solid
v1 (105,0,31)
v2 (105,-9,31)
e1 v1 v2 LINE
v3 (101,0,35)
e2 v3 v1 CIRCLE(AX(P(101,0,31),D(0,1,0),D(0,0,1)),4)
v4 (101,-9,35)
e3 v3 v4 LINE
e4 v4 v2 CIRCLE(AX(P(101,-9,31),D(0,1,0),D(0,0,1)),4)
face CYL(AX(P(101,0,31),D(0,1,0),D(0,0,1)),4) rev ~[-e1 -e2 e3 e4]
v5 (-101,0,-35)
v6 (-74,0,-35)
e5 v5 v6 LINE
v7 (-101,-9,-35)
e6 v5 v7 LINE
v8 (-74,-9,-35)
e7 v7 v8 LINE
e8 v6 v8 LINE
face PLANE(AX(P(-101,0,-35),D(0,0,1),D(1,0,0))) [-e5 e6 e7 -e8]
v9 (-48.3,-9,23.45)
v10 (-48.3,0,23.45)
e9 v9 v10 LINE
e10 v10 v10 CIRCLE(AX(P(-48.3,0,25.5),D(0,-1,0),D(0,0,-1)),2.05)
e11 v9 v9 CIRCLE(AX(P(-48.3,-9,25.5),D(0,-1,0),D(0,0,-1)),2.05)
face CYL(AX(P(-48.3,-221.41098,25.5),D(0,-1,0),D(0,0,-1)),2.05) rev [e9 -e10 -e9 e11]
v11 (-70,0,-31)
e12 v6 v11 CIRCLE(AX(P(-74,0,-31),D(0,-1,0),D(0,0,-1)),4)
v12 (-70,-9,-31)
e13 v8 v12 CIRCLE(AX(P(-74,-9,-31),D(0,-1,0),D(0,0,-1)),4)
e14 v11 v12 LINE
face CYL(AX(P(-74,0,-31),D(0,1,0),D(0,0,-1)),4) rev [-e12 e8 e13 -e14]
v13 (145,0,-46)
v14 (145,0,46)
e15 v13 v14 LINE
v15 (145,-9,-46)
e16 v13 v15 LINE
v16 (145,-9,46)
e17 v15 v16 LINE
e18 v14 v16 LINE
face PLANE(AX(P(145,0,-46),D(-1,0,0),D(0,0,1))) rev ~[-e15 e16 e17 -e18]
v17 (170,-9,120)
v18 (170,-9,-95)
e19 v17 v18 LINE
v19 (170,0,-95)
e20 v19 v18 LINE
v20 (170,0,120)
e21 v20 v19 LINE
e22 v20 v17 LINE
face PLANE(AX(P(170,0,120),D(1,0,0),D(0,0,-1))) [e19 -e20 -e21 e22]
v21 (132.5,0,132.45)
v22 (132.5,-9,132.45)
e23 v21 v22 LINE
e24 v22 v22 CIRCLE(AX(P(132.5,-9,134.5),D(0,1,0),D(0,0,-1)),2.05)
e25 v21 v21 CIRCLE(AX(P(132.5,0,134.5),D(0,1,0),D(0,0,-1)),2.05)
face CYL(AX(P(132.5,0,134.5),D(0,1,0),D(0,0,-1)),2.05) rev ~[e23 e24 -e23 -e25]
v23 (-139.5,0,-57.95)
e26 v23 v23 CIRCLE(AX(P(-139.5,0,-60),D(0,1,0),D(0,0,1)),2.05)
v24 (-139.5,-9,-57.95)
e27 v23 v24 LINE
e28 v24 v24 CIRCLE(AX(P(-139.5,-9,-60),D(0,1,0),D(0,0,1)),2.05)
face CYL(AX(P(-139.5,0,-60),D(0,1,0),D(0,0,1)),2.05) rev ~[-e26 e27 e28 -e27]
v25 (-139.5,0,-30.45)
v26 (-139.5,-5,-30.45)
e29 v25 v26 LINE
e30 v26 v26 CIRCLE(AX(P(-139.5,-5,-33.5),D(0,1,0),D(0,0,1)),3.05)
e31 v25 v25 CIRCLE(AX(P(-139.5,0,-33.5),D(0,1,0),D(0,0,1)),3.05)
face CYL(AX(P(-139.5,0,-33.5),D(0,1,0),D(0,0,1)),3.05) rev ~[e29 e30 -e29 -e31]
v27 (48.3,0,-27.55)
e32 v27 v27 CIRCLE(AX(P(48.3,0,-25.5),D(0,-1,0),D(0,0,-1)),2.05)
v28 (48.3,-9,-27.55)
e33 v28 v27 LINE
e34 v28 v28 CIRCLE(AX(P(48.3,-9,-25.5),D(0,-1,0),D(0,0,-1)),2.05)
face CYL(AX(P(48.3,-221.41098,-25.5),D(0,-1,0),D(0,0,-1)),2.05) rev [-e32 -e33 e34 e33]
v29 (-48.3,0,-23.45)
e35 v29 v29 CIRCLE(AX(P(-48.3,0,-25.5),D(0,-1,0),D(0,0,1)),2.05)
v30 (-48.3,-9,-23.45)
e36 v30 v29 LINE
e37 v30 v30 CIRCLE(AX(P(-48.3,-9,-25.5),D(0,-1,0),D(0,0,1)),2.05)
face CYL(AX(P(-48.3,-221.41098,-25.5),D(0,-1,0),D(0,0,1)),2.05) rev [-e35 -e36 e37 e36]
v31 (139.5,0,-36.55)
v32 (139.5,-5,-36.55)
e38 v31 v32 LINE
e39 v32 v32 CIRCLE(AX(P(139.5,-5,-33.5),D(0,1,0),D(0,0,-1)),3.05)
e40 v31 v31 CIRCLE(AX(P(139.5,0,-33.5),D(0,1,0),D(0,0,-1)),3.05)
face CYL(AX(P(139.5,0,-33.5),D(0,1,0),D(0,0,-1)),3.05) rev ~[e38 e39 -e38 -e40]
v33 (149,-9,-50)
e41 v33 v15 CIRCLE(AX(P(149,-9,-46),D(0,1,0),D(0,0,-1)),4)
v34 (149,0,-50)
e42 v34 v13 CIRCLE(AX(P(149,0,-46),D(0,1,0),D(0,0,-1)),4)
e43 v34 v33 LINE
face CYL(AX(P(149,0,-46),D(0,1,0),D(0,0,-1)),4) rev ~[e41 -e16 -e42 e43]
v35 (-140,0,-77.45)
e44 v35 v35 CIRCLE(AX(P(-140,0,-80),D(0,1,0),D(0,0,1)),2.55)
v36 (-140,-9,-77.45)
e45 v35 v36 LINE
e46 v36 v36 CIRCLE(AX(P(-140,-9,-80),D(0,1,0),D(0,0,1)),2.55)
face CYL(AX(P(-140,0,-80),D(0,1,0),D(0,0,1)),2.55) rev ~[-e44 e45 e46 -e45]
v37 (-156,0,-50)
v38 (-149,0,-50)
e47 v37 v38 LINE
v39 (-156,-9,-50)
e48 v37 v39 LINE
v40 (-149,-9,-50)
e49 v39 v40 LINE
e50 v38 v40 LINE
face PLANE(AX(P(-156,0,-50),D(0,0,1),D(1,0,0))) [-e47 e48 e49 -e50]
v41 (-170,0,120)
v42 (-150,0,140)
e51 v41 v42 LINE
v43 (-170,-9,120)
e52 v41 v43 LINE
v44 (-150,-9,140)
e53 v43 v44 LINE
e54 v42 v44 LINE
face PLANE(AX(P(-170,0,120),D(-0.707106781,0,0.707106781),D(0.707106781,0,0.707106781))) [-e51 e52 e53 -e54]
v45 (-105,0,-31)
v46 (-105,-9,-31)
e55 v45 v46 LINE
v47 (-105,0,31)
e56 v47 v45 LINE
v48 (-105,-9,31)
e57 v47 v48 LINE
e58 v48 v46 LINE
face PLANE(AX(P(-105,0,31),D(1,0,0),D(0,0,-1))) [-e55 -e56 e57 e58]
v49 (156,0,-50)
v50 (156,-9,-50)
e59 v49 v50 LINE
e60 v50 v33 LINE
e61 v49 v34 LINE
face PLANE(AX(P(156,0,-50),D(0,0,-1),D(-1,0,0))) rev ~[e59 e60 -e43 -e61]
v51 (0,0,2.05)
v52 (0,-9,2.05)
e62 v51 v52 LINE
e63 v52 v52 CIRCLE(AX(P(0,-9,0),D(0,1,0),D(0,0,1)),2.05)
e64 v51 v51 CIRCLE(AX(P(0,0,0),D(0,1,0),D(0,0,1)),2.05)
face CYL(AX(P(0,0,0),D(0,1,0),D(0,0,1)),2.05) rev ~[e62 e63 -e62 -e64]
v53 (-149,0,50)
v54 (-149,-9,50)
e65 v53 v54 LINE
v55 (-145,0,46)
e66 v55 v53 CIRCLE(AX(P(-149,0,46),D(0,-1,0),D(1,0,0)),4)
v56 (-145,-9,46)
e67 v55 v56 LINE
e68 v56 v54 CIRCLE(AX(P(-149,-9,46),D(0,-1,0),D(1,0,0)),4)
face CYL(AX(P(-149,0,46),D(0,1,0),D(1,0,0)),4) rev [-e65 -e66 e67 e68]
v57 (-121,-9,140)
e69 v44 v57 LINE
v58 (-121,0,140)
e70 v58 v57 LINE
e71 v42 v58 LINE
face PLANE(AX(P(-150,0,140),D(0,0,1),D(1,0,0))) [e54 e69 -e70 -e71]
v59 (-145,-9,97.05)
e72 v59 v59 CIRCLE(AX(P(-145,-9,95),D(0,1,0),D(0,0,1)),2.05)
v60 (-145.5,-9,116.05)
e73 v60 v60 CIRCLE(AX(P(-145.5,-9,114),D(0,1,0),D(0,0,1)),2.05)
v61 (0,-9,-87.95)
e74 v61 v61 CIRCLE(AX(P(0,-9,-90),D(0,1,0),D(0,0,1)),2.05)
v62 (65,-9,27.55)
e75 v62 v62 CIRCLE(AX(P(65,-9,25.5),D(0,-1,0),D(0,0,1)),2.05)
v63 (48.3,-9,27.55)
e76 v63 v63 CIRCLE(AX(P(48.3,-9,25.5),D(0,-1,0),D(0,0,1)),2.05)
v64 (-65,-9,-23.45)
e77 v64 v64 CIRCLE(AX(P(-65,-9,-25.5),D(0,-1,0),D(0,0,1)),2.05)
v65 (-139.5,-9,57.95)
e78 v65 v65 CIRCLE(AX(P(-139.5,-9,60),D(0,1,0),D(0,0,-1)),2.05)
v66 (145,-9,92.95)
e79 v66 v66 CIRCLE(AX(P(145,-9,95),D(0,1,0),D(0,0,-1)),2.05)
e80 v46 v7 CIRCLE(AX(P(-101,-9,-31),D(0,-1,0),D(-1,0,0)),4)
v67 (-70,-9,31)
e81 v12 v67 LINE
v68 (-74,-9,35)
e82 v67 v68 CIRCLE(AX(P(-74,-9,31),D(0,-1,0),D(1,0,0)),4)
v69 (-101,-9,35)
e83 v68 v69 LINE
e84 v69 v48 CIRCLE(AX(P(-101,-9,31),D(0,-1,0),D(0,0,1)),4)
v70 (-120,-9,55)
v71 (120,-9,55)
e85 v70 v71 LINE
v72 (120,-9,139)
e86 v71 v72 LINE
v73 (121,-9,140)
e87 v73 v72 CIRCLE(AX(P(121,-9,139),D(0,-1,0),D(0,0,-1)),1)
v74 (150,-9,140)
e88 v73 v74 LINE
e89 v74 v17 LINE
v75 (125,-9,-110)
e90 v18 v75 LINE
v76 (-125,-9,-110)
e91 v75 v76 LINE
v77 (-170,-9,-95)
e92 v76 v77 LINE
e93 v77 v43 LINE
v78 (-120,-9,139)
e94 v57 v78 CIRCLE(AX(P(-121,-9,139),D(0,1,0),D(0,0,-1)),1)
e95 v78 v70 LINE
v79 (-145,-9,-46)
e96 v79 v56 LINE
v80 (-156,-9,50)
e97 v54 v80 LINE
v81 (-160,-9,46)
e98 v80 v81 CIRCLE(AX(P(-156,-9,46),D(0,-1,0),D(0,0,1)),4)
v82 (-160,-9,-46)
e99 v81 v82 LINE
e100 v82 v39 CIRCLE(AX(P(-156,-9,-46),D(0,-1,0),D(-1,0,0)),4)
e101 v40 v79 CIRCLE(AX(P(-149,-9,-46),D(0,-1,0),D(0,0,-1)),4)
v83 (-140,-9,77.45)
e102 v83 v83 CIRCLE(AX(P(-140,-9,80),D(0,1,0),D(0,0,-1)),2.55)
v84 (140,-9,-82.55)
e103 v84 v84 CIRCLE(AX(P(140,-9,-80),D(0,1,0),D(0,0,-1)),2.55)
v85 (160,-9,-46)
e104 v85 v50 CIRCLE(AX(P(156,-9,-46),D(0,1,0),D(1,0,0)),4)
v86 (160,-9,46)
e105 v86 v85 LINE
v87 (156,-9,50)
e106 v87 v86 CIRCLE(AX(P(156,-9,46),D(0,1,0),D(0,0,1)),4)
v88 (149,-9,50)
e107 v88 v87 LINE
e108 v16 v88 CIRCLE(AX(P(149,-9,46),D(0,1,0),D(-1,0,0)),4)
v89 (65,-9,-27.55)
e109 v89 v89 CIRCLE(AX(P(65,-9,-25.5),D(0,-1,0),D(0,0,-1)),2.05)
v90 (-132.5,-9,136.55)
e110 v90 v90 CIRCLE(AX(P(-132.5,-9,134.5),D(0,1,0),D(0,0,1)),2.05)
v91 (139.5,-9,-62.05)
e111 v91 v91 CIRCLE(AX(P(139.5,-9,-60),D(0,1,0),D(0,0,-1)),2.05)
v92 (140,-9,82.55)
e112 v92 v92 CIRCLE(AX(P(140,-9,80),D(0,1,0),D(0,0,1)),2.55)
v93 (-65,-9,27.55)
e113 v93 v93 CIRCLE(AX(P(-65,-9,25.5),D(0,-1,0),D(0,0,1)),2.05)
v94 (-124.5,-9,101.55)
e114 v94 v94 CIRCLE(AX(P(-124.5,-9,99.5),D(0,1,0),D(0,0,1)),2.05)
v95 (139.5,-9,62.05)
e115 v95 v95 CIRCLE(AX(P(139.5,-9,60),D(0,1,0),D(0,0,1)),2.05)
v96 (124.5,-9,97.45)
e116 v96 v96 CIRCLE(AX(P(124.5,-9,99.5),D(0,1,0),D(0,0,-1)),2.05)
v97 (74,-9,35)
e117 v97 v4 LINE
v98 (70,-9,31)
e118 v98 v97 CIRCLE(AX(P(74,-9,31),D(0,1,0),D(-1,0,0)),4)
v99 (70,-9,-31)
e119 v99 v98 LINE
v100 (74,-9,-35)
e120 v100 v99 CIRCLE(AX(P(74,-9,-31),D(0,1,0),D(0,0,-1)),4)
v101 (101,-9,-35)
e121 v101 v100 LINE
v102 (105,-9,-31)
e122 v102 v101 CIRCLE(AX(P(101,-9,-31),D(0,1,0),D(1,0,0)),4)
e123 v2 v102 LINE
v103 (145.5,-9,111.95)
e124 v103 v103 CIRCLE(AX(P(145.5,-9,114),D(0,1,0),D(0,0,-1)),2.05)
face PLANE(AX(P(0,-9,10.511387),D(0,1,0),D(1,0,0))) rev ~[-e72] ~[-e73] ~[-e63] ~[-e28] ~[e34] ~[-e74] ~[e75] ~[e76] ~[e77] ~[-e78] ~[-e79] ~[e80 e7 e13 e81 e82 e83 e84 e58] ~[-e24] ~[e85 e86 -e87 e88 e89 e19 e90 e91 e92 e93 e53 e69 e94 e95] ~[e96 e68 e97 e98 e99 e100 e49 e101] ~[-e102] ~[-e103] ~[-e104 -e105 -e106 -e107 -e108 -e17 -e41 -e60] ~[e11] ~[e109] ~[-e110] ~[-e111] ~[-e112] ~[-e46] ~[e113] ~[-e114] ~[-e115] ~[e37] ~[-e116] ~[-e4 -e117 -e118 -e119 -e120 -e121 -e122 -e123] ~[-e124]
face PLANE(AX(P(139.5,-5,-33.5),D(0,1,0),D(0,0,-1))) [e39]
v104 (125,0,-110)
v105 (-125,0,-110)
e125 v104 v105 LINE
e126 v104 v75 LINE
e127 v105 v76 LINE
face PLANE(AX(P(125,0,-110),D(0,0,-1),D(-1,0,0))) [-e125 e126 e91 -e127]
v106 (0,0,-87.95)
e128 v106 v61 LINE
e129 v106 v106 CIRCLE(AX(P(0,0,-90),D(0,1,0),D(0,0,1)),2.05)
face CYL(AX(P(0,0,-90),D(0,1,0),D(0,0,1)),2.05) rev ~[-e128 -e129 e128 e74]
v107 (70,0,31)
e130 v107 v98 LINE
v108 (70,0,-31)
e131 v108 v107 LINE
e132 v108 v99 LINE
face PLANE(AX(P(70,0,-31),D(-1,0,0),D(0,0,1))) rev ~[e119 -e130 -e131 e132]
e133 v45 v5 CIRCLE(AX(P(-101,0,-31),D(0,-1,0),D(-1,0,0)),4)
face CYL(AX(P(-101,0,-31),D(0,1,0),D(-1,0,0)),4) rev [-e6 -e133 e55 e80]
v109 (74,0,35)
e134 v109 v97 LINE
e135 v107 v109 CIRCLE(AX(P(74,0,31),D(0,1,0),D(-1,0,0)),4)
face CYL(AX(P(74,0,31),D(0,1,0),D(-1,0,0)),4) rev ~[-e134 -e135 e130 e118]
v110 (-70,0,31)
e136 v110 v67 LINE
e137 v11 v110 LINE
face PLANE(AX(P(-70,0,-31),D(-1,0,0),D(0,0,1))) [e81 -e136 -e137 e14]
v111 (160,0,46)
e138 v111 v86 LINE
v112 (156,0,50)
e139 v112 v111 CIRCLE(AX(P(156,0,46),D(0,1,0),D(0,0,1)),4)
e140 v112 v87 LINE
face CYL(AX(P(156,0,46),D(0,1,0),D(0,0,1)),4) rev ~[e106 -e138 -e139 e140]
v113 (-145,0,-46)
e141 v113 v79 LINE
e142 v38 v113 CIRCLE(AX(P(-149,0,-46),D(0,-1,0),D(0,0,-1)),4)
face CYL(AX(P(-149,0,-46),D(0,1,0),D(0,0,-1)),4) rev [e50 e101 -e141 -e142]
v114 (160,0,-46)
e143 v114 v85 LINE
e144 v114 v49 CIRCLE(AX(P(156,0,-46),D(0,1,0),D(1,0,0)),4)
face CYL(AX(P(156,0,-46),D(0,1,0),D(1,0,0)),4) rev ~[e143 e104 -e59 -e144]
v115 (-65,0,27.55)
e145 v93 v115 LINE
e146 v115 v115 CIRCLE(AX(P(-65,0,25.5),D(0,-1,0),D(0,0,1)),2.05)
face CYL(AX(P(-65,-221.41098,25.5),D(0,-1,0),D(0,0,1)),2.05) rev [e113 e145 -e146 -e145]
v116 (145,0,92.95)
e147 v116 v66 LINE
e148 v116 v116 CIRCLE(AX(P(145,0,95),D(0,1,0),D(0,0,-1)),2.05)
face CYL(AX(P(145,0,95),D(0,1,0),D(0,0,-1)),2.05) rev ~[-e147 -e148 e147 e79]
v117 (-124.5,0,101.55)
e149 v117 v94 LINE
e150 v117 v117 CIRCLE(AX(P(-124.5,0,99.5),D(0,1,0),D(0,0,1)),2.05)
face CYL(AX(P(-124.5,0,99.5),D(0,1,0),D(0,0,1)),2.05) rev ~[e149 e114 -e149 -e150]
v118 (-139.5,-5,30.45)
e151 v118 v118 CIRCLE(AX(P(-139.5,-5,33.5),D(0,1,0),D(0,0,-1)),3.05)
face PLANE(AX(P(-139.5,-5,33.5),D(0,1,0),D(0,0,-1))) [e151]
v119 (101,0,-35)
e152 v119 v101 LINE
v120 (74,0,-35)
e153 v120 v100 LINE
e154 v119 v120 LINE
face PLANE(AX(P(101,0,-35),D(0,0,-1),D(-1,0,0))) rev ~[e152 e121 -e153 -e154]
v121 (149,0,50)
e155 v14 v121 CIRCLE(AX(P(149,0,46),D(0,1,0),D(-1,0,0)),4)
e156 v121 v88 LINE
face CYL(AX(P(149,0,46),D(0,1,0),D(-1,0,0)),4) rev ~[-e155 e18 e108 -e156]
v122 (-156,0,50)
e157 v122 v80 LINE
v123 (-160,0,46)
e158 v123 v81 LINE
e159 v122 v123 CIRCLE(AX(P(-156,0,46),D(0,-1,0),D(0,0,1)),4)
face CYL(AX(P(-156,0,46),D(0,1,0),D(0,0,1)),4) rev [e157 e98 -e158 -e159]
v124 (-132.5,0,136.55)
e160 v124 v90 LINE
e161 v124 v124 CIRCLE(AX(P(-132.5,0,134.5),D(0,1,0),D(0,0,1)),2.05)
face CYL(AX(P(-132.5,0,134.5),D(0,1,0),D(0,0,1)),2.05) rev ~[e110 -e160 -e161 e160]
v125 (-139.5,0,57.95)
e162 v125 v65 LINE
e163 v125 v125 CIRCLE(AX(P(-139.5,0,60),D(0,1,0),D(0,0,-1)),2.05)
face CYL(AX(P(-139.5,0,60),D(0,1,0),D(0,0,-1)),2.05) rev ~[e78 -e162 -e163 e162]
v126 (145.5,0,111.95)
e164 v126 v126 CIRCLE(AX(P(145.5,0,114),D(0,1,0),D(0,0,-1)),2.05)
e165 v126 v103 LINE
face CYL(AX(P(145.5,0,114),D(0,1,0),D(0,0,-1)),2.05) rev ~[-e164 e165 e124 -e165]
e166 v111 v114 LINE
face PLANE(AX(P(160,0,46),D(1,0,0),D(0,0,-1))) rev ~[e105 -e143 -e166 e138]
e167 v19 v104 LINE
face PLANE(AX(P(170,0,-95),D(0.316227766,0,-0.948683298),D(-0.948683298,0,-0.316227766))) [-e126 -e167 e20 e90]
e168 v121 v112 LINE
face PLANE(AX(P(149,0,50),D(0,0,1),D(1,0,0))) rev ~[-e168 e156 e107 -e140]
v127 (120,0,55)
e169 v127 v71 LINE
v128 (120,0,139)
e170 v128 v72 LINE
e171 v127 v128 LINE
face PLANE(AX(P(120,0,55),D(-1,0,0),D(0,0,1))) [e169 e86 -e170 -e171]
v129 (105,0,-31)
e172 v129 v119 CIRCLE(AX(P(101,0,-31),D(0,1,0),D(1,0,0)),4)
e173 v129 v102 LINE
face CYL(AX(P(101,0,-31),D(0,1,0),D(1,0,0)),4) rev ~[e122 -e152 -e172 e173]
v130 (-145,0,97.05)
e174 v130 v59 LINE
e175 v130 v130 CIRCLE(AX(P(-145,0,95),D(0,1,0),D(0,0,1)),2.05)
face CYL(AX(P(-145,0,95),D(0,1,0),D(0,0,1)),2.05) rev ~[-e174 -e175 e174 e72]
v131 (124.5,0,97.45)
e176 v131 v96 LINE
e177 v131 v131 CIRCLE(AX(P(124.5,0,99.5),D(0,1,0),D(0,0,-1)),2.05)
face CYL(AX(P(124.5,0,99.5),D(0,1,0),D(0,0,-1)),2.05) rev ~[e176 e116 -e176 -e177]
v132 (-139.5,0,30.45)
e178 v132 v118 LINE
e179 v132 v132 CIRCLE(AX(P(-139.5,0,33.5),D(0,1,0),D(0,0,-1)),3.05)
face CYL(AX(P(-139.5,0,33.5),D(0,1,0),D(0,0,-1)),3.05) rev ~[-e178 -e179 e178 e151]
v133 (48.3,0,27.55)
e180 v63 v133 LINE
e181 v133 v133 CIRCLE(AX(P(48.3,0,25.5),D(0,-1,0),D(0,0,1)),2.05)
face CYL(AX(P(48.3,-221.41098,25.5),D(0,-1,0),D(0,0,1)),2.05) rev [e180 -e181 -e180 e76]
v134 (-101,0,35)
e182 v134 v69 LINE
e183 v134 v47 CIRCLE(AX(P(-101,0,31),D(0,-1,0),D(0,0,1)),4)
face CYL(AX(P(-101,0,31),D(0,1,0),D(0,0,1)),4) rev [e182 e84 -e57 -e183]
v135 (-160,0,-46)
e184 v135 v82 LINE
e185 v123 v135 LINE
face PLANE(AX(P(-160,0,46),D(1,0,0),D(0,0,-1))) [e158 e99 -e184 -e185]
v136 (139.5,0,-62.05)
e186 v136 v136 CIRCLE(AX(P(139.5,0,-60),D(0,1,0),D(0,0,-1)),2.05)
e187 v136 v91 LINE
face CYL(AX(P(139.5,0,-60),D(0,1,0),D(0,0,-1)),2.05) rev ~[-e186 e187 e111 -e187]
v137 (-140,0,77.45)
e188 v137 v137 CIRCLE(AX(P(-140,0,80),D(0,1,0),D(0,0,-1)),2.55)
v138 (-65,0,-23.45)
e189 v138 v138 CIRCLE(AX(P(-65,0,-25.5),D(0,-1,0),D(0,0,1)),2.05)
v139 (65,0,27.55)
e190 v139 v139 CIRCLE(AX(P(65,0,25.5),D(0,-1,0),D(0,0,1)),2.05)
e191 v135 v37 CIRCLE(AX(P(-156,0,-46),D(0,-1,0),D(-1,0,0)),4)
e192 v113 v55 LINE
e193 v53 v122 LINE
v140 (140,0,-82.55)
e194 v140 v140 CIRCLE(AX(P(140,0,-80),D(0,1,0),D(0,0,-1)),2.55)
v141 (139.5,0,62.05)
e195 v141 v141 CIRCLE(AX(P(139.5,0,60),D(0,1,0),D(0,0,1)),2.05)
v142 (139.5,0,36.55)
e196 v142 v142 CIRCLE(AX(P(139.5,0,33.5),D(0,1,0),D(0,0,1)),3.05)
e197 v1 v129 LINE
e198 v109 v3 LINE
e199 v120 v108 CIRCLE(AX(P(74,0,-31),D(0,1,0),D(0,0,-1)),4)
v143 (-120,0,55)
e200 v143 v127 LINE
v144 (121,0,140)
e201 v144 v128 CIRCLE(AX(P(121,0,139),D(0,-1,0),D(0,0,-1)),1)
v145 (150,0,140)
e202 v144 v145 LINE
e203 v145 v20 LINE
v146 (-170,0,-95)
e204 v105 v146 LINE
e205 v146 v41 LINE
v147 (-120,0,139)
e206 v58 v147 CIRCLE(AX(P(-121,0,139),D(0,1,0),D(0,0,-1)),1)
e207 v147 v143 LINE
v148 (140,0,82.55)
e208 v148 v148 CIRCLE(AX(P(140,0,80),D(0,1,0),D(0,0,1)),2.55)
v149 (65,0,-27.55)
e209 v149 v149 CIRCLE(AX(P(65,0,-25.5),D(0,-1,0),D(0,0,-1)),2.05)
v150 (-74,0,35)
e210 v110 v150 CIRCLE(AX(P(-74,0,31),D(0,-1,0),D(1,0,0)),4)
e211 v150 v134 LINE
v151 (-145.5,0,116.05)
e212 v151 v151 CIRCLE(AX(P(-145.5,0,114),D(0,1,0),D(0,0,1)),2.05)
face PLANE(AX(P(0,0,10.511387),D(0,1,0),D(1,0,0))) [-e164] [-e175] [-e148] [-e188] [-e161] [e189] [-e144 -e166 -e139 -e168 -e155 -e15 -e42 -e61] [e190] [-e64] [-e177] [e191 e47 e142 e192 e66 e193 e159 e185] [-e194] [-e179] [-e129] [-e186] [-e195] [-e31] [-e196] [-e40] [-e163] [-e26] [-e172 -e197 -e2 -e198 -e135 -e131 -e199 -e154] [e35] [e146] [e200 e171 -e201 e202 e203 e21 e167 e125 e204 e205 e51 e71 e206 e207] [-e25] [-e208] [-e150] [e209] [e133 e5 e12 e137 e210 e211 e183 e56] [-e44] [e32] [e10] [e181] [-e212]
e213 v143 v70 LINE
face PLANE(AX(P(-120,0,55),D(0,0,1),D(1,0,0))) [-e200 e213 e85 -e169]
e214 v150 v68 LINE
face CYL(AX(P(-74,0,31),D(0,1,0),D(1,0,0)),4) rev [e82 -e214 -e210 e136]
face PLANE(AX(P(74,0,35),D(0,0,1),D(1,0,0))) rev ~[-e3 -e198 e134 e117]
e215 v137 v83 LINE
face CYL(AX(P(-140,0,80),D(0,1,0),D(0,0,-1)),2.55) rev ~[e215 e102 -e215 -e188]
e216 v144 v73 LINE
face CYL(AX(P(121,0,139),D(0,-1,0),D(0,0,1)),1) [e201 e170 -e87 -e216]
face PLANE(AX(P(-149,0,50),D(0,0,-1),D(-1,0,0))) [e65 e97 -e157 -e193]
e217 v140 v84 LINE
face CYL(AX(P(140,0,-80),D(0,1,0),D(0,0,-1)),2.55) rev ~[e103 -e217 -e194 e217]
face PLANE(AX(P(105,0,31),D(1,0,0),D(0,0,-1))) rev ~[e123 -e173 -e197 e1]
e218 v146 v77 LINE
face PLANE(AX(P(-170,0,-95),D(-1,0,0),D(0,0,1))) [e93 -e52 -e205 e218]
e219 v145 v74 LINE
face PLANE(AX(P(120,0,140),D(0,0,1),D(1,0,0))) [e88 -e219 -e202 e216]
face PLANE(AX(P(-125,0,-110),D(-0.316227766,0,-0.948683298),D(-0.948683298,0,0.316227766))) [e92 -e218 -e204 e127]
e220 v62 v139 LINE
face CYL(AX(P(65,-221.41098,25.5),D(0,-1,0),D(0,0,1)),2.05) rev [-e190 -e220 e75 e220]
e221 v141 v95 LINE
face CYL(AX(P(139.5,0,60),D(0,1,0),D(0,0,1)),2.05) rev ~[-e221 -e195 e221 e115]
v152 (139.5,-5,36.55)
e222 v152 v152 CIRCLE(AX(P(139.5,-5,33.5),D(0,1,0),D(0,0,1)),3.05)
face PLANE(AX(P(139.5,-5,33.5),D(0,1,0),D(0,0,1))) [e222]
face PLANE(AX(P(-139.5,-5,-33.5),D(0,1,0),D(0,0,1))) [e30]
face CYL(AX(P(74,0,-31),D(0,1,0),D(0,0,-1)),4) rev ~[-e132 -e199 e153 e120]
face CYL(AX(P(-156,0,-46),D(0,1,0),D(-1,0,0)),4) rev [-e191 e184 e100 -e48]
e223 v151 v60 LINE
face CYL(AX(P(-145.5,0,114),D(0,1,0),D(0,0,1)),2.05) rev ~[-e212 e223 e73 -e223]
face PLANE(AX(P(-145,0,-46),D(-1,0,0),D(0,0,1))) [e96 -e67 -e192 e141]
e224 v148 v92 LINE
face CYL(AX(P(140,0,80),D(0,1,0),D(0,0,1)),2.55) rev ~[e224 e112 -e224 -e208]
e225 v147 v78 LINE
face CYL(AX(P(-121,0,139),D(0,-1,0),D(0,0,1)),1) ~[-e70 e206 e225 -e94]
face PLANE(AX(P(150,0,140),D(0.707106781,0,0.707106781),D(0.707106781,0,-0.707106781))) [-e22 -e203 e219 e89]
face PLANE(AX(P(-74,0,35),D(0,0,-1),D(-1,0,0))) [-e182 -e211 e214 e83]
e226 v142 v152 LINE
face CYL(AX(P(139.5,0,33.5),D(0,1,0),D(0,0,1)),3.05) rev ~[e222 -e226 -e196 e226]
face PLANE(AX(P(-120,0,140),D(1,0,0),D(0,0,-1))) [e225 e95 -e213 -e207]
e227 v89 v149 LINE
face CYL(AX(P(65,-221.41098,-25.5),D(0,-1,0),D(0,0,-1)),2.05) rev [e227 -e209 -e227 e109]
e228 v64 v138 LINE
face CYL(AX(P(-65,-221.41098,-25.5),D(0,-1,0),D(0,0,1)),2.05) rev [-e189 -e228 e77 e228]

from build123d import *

# Parameters (mm, degrees)
ESQUISSE3_R          = 2.55
STRUCTURE_DEPTH      = 9
ESQUISSE4_R          = 3.05
ENCOCHES_TIGES_DEPTH = 5
ESQUISSE5_R          = 2.05
ENCODEURS_DEPTH      = 221.410979763
MOTEURS_DEPTH        = 221.410979763
MOTEURS_DEPTH_BACK   = 221.410979763
ESQUISSE6_R          = 2.05
ESQUISSE7_R          = 2.05
PATINS_DEPTH         = 221.410979763
ESQUISSE8_R          = 2.05
ACTIONNEURS_DEPTH    = 221.410979763
CONG_1_R             = 1


with BuildPart() as part:
    # Esquisse3 → structure (new body)
    with BuildSketch(Plane(origin=(0, 0, 0), x_dir=(1, 0, 0), z_dir=(0, 1, 0))):
        Polygon((125, 110), (-125, 110), (-170, 95), (-170, 0), (-170, -120), (-150, -140), (-120, -140), (-120, -55), (120, -55), (120, -140), (150, -140), (170, -120), (170, 0), (170, 95), align=None)
        with Locations(Location((-140, 80, 0), (0, 0, 270))):
            Circle(ESQUISSE3_R, mode=Mode.SUBTRACT)
        with Locations(Location((-140, -80, 0), (0, 0, 90))):
            Circle(ESQUISSE3_R, mode=Mode.SUBTRACT)
        with Locations(Location((140, -80, 0), (0, 0, 270))):
            Circle(ESQUISSE3_R, mode=Mode.SUBTRACT)
        with Locations(Location((140, 80, 0), (0, 0, 90))):
            Circle(ESQUISSE3_R, mode=Mode.SUBTRACT)
        with BuildLine():
            Line((-160, -46), (-160, 46))
            ThreePointArc((-160, 46), (-158.828427125, 48.828427125), (-156, 50))
            Line((-156, 50), (-149, 50))
            ThreePointArc((-149, 50), (-146.171572875, 48.828427125), (-145, 46))
            Line((-145, 46), (-145, -46))
            ThreePointArc((-145, -46), (-146.171572875, -48.828427125), (-149, -50))
            Line((-149, -50), (-156, -50))
            ThreePointArc((-156, -50), (-158.828427125, -48.828427125), (-160, -46))
        make_face(mode=Mode.SUBTRACT)
        with BuildLine():
            Line((-105, 0), (-105, 31))
            ThreePointArc((-105, 31), (-103.828427125, 33.828427125), (-101, 35))
            Line((-101, 35), (-74, 35))
            ThreePointArc((-74, 35), (-71.171572875, 33.828427125), (-70, 31))
            Line((-70, 31), (-70, -31))
            ThreePointArc((-70, -31), (-71.171572875, -33.828427125), (-74, -35))
            Line((-74, -35), (-101, -35))
            ThreePointArc((-101, -35), (-103.828427125, -33.828427125), (-105, -31))
            Line((-105, -31), (-105, 0))
        make_face(mode=Mode.SUBTRACT)
        with BuildLine():
            Line((156, 50), (149, 50))
            ThreePointArc((149, 50), (146.171572875, 48.828427125), (145, 46))
            Line((145, 46), (145, -46))
            ThreePointArc((145, -46), (146.171572875, -48.828427125), (149, -50))
            Line((149, -50), (156, -50))
            ThreePointArc((156, -50), (158.828427125, -48.828427125), (160, -46))
            Line((160, -46), (160, 46))
            ThreePointArc((160, 46), (158.828427125, 48.828427125), (156, 50))
        make_face(mode=Mode.SUBTRACT)
        with BuildLine():
            Line((105, 0), (105, 31))
            ThreePointArc((105, 31), (103.828427125, 33.828427125), (101, 35))
            Line((101, 35), (74, 35))
            ThreePointArc((74, 35), (71.171572875, 33.828427125), (70, 31))
            Line((70, 31), (70, -31))
            ThreePointArc((70, -31), (71.171572875, -33.828427125), (74, -35))
            Line((74, -35), (101, -35))
            ThreePointArc((101, -35), (103.828427125, -33.828427125), (105, -31))
            Line((105, -31), (105, 0))
        make_face(mode=Mode.SUBTRACT)
    extrude(amount=-STRUCTURE_DEPTH)

    # Esquisse4 → encoches_tiges (cut)
    with BuildSketch(Plane(origin=(0, 0, 0), x_dir=(1, 0, 0), z_dir=(0, 1, 0))):
        with Locations(Location((-139.5, 33.5, 0), (0, 0, 270))):
            Circle(ESQUISSE4_R)
        with Locations(Location((-139.5, -33.5, 0), (0, 0, 90))):
            Circle(ESQUISSE4_R)
        with Locations(Location((139.5, -33.5, 0), (0, 0, 270))):
            Circle(ESQUISSE4_R)
        with Locations(Location((139.5, 33.5, 0), (0, 0, 90))):
            Circle(ESQUISSE4_R)
    extrude(amount=-ENCOCHES_TIGES_DEPTH, mode=Mode.SUBTRACT)

    # Esquisse5 → encodeurs (cut, through all)
    with BuildSketch(Plane(origin=(0, 0, 0), x_dir=(1, 0, 0), z_dir=(0, 1, 0))):
        with Locations(Location((-139.5, 60, 0), (0, 0, 270))):
            Circle(ESQUISSE5_R)
        with Locations(Location((-139.5, -60, 0), (0, 0, 90))):
            Circle(ESQUISSE5_R)
        with Locations(Location((139.5, -60, 0), (0, 0, 270))):
            Circle(ESQUISSE5_R)
        with Locations(Location((139.5, 60, 0), (0, 0, 90))):
            Circle(ESQUISSE5_R)
    extrude(amount=-ENCODEURS_DEPTH, mode=Mode.SUBTRACT)

    # Esquisse6 → moteurs (cut, two sides: drawn at the far end of the back side and taken through both)
    with BuildSketch(Plane(origin=(0, 0, 0), x_dir=(1, 0, 0), z_dir=(0, 1, 0)).offset(-MOTEURS_DEPTH_BACK)):
        with Locations(Location((-65, 25.5, 0), (0, 0, 270))):
            Circle(ESQUISSE6_R)
        with Locations(Location((-48.3, 25.5, 0), (0, 0, 270))):
            Circle(ESQUISSE6_R)
        with Locations(Location((-65, -25.5, 0), (0, 0, 270))):
            Circle(ESQUISSE6_R)
        with Locations(Location((48.3, -25.5, 0), (0, 0, 270))):
            Circle(ESQUISSE6_R)
        with Locations(Location((65, -25.5, 0), (0, 0, 270))):
            Circle(ESQUISSE6_R)
        with Locations(Location((-48.3, -25.5, 0), (0, 0, 90))):
            Circle(ESQUISSE6_R)
        with Locations(Location((48.3, 25.5, 0), (0, 0, 90))):
            Circle(ESQUISSE6_R)
        with Locations(Location((65, 25.5, 0), (0, 0, 90))):
            Circle(ESQUISSE6_R)
    extrude(amount=MOTEURS_DEPTH + MOTEURS_DEPTH_BACK, mode=Mode.SUBTRACT)

    # Esquisse7 → patins (cut, through all)
    with BuildSketch(Plane(origin=(0, 0, 0), x_dir=(1, 0, 0), z_dir=(0, 1, 0))):
        with Locations(Location((0, 90, 0), (0, 0, 270))):
            Circle(ESQUISSE7_R)
        with Locations(Location((0, 0, 0), (0, 0, 270))):
            Circle(ESQUISSE7_R)
        with Locations(Location((-145, -95, 0), (0, 0, 270))):
            Circle(ESQUISSE7_R)
        with Locations(Location((145, -95, 0), (0, 0, 90))):
            Circle(ESQUISSE7_R)
    extrude(amount=-PATINS_DEPTH, mode=Mode.SUBTRACT)

    # Esquisse8 → actionneurs (cut, through all)
    with BuildSketch(Plane(origin=(0, 0, 0), x_dir=(1, 0, 0), z_dir=(0, 1, 0))):
        with Locations(Location((-132.5, -134.5, 0), (0, 0, 270))):
            Circle(ESQUISSE8_R)
        with Locations(Location((-124.5, -99.5, 0), (0, 0, 270))):
            Circle(ESQUISSE8_R)
        with Locations(Location((132.5, -134.5, 0), (0, 0, 90))):
            Circle(ESQUISSE8_R)
        with Locations(Location((124.5, -99.5, 0), (0, 0, 90))):
            Circle(ESQUISSE8_R)
        with Locations(Location((-145.5, -114, 0), (0, 0, 270))):
            Circle(ESQUISSE8_R)
        with Locations(Location((145.5, -114, 0), (0, 0, 90))):
            Circle(ESQUISSE8_R)
    extrude(amount=-ACTIONNEURS_DEPTH, mode=Mode.SUBTRACT)

    # Congé1
    cong_1_edges = [part.edges().sort_by_distance(p)[0] for p in [
        (-120, -4.5, 140),
        (120, -4.5, 140),
    ]]
    fillet(cong_1_edges, radius=CONG_1_R)


solid = part.part
